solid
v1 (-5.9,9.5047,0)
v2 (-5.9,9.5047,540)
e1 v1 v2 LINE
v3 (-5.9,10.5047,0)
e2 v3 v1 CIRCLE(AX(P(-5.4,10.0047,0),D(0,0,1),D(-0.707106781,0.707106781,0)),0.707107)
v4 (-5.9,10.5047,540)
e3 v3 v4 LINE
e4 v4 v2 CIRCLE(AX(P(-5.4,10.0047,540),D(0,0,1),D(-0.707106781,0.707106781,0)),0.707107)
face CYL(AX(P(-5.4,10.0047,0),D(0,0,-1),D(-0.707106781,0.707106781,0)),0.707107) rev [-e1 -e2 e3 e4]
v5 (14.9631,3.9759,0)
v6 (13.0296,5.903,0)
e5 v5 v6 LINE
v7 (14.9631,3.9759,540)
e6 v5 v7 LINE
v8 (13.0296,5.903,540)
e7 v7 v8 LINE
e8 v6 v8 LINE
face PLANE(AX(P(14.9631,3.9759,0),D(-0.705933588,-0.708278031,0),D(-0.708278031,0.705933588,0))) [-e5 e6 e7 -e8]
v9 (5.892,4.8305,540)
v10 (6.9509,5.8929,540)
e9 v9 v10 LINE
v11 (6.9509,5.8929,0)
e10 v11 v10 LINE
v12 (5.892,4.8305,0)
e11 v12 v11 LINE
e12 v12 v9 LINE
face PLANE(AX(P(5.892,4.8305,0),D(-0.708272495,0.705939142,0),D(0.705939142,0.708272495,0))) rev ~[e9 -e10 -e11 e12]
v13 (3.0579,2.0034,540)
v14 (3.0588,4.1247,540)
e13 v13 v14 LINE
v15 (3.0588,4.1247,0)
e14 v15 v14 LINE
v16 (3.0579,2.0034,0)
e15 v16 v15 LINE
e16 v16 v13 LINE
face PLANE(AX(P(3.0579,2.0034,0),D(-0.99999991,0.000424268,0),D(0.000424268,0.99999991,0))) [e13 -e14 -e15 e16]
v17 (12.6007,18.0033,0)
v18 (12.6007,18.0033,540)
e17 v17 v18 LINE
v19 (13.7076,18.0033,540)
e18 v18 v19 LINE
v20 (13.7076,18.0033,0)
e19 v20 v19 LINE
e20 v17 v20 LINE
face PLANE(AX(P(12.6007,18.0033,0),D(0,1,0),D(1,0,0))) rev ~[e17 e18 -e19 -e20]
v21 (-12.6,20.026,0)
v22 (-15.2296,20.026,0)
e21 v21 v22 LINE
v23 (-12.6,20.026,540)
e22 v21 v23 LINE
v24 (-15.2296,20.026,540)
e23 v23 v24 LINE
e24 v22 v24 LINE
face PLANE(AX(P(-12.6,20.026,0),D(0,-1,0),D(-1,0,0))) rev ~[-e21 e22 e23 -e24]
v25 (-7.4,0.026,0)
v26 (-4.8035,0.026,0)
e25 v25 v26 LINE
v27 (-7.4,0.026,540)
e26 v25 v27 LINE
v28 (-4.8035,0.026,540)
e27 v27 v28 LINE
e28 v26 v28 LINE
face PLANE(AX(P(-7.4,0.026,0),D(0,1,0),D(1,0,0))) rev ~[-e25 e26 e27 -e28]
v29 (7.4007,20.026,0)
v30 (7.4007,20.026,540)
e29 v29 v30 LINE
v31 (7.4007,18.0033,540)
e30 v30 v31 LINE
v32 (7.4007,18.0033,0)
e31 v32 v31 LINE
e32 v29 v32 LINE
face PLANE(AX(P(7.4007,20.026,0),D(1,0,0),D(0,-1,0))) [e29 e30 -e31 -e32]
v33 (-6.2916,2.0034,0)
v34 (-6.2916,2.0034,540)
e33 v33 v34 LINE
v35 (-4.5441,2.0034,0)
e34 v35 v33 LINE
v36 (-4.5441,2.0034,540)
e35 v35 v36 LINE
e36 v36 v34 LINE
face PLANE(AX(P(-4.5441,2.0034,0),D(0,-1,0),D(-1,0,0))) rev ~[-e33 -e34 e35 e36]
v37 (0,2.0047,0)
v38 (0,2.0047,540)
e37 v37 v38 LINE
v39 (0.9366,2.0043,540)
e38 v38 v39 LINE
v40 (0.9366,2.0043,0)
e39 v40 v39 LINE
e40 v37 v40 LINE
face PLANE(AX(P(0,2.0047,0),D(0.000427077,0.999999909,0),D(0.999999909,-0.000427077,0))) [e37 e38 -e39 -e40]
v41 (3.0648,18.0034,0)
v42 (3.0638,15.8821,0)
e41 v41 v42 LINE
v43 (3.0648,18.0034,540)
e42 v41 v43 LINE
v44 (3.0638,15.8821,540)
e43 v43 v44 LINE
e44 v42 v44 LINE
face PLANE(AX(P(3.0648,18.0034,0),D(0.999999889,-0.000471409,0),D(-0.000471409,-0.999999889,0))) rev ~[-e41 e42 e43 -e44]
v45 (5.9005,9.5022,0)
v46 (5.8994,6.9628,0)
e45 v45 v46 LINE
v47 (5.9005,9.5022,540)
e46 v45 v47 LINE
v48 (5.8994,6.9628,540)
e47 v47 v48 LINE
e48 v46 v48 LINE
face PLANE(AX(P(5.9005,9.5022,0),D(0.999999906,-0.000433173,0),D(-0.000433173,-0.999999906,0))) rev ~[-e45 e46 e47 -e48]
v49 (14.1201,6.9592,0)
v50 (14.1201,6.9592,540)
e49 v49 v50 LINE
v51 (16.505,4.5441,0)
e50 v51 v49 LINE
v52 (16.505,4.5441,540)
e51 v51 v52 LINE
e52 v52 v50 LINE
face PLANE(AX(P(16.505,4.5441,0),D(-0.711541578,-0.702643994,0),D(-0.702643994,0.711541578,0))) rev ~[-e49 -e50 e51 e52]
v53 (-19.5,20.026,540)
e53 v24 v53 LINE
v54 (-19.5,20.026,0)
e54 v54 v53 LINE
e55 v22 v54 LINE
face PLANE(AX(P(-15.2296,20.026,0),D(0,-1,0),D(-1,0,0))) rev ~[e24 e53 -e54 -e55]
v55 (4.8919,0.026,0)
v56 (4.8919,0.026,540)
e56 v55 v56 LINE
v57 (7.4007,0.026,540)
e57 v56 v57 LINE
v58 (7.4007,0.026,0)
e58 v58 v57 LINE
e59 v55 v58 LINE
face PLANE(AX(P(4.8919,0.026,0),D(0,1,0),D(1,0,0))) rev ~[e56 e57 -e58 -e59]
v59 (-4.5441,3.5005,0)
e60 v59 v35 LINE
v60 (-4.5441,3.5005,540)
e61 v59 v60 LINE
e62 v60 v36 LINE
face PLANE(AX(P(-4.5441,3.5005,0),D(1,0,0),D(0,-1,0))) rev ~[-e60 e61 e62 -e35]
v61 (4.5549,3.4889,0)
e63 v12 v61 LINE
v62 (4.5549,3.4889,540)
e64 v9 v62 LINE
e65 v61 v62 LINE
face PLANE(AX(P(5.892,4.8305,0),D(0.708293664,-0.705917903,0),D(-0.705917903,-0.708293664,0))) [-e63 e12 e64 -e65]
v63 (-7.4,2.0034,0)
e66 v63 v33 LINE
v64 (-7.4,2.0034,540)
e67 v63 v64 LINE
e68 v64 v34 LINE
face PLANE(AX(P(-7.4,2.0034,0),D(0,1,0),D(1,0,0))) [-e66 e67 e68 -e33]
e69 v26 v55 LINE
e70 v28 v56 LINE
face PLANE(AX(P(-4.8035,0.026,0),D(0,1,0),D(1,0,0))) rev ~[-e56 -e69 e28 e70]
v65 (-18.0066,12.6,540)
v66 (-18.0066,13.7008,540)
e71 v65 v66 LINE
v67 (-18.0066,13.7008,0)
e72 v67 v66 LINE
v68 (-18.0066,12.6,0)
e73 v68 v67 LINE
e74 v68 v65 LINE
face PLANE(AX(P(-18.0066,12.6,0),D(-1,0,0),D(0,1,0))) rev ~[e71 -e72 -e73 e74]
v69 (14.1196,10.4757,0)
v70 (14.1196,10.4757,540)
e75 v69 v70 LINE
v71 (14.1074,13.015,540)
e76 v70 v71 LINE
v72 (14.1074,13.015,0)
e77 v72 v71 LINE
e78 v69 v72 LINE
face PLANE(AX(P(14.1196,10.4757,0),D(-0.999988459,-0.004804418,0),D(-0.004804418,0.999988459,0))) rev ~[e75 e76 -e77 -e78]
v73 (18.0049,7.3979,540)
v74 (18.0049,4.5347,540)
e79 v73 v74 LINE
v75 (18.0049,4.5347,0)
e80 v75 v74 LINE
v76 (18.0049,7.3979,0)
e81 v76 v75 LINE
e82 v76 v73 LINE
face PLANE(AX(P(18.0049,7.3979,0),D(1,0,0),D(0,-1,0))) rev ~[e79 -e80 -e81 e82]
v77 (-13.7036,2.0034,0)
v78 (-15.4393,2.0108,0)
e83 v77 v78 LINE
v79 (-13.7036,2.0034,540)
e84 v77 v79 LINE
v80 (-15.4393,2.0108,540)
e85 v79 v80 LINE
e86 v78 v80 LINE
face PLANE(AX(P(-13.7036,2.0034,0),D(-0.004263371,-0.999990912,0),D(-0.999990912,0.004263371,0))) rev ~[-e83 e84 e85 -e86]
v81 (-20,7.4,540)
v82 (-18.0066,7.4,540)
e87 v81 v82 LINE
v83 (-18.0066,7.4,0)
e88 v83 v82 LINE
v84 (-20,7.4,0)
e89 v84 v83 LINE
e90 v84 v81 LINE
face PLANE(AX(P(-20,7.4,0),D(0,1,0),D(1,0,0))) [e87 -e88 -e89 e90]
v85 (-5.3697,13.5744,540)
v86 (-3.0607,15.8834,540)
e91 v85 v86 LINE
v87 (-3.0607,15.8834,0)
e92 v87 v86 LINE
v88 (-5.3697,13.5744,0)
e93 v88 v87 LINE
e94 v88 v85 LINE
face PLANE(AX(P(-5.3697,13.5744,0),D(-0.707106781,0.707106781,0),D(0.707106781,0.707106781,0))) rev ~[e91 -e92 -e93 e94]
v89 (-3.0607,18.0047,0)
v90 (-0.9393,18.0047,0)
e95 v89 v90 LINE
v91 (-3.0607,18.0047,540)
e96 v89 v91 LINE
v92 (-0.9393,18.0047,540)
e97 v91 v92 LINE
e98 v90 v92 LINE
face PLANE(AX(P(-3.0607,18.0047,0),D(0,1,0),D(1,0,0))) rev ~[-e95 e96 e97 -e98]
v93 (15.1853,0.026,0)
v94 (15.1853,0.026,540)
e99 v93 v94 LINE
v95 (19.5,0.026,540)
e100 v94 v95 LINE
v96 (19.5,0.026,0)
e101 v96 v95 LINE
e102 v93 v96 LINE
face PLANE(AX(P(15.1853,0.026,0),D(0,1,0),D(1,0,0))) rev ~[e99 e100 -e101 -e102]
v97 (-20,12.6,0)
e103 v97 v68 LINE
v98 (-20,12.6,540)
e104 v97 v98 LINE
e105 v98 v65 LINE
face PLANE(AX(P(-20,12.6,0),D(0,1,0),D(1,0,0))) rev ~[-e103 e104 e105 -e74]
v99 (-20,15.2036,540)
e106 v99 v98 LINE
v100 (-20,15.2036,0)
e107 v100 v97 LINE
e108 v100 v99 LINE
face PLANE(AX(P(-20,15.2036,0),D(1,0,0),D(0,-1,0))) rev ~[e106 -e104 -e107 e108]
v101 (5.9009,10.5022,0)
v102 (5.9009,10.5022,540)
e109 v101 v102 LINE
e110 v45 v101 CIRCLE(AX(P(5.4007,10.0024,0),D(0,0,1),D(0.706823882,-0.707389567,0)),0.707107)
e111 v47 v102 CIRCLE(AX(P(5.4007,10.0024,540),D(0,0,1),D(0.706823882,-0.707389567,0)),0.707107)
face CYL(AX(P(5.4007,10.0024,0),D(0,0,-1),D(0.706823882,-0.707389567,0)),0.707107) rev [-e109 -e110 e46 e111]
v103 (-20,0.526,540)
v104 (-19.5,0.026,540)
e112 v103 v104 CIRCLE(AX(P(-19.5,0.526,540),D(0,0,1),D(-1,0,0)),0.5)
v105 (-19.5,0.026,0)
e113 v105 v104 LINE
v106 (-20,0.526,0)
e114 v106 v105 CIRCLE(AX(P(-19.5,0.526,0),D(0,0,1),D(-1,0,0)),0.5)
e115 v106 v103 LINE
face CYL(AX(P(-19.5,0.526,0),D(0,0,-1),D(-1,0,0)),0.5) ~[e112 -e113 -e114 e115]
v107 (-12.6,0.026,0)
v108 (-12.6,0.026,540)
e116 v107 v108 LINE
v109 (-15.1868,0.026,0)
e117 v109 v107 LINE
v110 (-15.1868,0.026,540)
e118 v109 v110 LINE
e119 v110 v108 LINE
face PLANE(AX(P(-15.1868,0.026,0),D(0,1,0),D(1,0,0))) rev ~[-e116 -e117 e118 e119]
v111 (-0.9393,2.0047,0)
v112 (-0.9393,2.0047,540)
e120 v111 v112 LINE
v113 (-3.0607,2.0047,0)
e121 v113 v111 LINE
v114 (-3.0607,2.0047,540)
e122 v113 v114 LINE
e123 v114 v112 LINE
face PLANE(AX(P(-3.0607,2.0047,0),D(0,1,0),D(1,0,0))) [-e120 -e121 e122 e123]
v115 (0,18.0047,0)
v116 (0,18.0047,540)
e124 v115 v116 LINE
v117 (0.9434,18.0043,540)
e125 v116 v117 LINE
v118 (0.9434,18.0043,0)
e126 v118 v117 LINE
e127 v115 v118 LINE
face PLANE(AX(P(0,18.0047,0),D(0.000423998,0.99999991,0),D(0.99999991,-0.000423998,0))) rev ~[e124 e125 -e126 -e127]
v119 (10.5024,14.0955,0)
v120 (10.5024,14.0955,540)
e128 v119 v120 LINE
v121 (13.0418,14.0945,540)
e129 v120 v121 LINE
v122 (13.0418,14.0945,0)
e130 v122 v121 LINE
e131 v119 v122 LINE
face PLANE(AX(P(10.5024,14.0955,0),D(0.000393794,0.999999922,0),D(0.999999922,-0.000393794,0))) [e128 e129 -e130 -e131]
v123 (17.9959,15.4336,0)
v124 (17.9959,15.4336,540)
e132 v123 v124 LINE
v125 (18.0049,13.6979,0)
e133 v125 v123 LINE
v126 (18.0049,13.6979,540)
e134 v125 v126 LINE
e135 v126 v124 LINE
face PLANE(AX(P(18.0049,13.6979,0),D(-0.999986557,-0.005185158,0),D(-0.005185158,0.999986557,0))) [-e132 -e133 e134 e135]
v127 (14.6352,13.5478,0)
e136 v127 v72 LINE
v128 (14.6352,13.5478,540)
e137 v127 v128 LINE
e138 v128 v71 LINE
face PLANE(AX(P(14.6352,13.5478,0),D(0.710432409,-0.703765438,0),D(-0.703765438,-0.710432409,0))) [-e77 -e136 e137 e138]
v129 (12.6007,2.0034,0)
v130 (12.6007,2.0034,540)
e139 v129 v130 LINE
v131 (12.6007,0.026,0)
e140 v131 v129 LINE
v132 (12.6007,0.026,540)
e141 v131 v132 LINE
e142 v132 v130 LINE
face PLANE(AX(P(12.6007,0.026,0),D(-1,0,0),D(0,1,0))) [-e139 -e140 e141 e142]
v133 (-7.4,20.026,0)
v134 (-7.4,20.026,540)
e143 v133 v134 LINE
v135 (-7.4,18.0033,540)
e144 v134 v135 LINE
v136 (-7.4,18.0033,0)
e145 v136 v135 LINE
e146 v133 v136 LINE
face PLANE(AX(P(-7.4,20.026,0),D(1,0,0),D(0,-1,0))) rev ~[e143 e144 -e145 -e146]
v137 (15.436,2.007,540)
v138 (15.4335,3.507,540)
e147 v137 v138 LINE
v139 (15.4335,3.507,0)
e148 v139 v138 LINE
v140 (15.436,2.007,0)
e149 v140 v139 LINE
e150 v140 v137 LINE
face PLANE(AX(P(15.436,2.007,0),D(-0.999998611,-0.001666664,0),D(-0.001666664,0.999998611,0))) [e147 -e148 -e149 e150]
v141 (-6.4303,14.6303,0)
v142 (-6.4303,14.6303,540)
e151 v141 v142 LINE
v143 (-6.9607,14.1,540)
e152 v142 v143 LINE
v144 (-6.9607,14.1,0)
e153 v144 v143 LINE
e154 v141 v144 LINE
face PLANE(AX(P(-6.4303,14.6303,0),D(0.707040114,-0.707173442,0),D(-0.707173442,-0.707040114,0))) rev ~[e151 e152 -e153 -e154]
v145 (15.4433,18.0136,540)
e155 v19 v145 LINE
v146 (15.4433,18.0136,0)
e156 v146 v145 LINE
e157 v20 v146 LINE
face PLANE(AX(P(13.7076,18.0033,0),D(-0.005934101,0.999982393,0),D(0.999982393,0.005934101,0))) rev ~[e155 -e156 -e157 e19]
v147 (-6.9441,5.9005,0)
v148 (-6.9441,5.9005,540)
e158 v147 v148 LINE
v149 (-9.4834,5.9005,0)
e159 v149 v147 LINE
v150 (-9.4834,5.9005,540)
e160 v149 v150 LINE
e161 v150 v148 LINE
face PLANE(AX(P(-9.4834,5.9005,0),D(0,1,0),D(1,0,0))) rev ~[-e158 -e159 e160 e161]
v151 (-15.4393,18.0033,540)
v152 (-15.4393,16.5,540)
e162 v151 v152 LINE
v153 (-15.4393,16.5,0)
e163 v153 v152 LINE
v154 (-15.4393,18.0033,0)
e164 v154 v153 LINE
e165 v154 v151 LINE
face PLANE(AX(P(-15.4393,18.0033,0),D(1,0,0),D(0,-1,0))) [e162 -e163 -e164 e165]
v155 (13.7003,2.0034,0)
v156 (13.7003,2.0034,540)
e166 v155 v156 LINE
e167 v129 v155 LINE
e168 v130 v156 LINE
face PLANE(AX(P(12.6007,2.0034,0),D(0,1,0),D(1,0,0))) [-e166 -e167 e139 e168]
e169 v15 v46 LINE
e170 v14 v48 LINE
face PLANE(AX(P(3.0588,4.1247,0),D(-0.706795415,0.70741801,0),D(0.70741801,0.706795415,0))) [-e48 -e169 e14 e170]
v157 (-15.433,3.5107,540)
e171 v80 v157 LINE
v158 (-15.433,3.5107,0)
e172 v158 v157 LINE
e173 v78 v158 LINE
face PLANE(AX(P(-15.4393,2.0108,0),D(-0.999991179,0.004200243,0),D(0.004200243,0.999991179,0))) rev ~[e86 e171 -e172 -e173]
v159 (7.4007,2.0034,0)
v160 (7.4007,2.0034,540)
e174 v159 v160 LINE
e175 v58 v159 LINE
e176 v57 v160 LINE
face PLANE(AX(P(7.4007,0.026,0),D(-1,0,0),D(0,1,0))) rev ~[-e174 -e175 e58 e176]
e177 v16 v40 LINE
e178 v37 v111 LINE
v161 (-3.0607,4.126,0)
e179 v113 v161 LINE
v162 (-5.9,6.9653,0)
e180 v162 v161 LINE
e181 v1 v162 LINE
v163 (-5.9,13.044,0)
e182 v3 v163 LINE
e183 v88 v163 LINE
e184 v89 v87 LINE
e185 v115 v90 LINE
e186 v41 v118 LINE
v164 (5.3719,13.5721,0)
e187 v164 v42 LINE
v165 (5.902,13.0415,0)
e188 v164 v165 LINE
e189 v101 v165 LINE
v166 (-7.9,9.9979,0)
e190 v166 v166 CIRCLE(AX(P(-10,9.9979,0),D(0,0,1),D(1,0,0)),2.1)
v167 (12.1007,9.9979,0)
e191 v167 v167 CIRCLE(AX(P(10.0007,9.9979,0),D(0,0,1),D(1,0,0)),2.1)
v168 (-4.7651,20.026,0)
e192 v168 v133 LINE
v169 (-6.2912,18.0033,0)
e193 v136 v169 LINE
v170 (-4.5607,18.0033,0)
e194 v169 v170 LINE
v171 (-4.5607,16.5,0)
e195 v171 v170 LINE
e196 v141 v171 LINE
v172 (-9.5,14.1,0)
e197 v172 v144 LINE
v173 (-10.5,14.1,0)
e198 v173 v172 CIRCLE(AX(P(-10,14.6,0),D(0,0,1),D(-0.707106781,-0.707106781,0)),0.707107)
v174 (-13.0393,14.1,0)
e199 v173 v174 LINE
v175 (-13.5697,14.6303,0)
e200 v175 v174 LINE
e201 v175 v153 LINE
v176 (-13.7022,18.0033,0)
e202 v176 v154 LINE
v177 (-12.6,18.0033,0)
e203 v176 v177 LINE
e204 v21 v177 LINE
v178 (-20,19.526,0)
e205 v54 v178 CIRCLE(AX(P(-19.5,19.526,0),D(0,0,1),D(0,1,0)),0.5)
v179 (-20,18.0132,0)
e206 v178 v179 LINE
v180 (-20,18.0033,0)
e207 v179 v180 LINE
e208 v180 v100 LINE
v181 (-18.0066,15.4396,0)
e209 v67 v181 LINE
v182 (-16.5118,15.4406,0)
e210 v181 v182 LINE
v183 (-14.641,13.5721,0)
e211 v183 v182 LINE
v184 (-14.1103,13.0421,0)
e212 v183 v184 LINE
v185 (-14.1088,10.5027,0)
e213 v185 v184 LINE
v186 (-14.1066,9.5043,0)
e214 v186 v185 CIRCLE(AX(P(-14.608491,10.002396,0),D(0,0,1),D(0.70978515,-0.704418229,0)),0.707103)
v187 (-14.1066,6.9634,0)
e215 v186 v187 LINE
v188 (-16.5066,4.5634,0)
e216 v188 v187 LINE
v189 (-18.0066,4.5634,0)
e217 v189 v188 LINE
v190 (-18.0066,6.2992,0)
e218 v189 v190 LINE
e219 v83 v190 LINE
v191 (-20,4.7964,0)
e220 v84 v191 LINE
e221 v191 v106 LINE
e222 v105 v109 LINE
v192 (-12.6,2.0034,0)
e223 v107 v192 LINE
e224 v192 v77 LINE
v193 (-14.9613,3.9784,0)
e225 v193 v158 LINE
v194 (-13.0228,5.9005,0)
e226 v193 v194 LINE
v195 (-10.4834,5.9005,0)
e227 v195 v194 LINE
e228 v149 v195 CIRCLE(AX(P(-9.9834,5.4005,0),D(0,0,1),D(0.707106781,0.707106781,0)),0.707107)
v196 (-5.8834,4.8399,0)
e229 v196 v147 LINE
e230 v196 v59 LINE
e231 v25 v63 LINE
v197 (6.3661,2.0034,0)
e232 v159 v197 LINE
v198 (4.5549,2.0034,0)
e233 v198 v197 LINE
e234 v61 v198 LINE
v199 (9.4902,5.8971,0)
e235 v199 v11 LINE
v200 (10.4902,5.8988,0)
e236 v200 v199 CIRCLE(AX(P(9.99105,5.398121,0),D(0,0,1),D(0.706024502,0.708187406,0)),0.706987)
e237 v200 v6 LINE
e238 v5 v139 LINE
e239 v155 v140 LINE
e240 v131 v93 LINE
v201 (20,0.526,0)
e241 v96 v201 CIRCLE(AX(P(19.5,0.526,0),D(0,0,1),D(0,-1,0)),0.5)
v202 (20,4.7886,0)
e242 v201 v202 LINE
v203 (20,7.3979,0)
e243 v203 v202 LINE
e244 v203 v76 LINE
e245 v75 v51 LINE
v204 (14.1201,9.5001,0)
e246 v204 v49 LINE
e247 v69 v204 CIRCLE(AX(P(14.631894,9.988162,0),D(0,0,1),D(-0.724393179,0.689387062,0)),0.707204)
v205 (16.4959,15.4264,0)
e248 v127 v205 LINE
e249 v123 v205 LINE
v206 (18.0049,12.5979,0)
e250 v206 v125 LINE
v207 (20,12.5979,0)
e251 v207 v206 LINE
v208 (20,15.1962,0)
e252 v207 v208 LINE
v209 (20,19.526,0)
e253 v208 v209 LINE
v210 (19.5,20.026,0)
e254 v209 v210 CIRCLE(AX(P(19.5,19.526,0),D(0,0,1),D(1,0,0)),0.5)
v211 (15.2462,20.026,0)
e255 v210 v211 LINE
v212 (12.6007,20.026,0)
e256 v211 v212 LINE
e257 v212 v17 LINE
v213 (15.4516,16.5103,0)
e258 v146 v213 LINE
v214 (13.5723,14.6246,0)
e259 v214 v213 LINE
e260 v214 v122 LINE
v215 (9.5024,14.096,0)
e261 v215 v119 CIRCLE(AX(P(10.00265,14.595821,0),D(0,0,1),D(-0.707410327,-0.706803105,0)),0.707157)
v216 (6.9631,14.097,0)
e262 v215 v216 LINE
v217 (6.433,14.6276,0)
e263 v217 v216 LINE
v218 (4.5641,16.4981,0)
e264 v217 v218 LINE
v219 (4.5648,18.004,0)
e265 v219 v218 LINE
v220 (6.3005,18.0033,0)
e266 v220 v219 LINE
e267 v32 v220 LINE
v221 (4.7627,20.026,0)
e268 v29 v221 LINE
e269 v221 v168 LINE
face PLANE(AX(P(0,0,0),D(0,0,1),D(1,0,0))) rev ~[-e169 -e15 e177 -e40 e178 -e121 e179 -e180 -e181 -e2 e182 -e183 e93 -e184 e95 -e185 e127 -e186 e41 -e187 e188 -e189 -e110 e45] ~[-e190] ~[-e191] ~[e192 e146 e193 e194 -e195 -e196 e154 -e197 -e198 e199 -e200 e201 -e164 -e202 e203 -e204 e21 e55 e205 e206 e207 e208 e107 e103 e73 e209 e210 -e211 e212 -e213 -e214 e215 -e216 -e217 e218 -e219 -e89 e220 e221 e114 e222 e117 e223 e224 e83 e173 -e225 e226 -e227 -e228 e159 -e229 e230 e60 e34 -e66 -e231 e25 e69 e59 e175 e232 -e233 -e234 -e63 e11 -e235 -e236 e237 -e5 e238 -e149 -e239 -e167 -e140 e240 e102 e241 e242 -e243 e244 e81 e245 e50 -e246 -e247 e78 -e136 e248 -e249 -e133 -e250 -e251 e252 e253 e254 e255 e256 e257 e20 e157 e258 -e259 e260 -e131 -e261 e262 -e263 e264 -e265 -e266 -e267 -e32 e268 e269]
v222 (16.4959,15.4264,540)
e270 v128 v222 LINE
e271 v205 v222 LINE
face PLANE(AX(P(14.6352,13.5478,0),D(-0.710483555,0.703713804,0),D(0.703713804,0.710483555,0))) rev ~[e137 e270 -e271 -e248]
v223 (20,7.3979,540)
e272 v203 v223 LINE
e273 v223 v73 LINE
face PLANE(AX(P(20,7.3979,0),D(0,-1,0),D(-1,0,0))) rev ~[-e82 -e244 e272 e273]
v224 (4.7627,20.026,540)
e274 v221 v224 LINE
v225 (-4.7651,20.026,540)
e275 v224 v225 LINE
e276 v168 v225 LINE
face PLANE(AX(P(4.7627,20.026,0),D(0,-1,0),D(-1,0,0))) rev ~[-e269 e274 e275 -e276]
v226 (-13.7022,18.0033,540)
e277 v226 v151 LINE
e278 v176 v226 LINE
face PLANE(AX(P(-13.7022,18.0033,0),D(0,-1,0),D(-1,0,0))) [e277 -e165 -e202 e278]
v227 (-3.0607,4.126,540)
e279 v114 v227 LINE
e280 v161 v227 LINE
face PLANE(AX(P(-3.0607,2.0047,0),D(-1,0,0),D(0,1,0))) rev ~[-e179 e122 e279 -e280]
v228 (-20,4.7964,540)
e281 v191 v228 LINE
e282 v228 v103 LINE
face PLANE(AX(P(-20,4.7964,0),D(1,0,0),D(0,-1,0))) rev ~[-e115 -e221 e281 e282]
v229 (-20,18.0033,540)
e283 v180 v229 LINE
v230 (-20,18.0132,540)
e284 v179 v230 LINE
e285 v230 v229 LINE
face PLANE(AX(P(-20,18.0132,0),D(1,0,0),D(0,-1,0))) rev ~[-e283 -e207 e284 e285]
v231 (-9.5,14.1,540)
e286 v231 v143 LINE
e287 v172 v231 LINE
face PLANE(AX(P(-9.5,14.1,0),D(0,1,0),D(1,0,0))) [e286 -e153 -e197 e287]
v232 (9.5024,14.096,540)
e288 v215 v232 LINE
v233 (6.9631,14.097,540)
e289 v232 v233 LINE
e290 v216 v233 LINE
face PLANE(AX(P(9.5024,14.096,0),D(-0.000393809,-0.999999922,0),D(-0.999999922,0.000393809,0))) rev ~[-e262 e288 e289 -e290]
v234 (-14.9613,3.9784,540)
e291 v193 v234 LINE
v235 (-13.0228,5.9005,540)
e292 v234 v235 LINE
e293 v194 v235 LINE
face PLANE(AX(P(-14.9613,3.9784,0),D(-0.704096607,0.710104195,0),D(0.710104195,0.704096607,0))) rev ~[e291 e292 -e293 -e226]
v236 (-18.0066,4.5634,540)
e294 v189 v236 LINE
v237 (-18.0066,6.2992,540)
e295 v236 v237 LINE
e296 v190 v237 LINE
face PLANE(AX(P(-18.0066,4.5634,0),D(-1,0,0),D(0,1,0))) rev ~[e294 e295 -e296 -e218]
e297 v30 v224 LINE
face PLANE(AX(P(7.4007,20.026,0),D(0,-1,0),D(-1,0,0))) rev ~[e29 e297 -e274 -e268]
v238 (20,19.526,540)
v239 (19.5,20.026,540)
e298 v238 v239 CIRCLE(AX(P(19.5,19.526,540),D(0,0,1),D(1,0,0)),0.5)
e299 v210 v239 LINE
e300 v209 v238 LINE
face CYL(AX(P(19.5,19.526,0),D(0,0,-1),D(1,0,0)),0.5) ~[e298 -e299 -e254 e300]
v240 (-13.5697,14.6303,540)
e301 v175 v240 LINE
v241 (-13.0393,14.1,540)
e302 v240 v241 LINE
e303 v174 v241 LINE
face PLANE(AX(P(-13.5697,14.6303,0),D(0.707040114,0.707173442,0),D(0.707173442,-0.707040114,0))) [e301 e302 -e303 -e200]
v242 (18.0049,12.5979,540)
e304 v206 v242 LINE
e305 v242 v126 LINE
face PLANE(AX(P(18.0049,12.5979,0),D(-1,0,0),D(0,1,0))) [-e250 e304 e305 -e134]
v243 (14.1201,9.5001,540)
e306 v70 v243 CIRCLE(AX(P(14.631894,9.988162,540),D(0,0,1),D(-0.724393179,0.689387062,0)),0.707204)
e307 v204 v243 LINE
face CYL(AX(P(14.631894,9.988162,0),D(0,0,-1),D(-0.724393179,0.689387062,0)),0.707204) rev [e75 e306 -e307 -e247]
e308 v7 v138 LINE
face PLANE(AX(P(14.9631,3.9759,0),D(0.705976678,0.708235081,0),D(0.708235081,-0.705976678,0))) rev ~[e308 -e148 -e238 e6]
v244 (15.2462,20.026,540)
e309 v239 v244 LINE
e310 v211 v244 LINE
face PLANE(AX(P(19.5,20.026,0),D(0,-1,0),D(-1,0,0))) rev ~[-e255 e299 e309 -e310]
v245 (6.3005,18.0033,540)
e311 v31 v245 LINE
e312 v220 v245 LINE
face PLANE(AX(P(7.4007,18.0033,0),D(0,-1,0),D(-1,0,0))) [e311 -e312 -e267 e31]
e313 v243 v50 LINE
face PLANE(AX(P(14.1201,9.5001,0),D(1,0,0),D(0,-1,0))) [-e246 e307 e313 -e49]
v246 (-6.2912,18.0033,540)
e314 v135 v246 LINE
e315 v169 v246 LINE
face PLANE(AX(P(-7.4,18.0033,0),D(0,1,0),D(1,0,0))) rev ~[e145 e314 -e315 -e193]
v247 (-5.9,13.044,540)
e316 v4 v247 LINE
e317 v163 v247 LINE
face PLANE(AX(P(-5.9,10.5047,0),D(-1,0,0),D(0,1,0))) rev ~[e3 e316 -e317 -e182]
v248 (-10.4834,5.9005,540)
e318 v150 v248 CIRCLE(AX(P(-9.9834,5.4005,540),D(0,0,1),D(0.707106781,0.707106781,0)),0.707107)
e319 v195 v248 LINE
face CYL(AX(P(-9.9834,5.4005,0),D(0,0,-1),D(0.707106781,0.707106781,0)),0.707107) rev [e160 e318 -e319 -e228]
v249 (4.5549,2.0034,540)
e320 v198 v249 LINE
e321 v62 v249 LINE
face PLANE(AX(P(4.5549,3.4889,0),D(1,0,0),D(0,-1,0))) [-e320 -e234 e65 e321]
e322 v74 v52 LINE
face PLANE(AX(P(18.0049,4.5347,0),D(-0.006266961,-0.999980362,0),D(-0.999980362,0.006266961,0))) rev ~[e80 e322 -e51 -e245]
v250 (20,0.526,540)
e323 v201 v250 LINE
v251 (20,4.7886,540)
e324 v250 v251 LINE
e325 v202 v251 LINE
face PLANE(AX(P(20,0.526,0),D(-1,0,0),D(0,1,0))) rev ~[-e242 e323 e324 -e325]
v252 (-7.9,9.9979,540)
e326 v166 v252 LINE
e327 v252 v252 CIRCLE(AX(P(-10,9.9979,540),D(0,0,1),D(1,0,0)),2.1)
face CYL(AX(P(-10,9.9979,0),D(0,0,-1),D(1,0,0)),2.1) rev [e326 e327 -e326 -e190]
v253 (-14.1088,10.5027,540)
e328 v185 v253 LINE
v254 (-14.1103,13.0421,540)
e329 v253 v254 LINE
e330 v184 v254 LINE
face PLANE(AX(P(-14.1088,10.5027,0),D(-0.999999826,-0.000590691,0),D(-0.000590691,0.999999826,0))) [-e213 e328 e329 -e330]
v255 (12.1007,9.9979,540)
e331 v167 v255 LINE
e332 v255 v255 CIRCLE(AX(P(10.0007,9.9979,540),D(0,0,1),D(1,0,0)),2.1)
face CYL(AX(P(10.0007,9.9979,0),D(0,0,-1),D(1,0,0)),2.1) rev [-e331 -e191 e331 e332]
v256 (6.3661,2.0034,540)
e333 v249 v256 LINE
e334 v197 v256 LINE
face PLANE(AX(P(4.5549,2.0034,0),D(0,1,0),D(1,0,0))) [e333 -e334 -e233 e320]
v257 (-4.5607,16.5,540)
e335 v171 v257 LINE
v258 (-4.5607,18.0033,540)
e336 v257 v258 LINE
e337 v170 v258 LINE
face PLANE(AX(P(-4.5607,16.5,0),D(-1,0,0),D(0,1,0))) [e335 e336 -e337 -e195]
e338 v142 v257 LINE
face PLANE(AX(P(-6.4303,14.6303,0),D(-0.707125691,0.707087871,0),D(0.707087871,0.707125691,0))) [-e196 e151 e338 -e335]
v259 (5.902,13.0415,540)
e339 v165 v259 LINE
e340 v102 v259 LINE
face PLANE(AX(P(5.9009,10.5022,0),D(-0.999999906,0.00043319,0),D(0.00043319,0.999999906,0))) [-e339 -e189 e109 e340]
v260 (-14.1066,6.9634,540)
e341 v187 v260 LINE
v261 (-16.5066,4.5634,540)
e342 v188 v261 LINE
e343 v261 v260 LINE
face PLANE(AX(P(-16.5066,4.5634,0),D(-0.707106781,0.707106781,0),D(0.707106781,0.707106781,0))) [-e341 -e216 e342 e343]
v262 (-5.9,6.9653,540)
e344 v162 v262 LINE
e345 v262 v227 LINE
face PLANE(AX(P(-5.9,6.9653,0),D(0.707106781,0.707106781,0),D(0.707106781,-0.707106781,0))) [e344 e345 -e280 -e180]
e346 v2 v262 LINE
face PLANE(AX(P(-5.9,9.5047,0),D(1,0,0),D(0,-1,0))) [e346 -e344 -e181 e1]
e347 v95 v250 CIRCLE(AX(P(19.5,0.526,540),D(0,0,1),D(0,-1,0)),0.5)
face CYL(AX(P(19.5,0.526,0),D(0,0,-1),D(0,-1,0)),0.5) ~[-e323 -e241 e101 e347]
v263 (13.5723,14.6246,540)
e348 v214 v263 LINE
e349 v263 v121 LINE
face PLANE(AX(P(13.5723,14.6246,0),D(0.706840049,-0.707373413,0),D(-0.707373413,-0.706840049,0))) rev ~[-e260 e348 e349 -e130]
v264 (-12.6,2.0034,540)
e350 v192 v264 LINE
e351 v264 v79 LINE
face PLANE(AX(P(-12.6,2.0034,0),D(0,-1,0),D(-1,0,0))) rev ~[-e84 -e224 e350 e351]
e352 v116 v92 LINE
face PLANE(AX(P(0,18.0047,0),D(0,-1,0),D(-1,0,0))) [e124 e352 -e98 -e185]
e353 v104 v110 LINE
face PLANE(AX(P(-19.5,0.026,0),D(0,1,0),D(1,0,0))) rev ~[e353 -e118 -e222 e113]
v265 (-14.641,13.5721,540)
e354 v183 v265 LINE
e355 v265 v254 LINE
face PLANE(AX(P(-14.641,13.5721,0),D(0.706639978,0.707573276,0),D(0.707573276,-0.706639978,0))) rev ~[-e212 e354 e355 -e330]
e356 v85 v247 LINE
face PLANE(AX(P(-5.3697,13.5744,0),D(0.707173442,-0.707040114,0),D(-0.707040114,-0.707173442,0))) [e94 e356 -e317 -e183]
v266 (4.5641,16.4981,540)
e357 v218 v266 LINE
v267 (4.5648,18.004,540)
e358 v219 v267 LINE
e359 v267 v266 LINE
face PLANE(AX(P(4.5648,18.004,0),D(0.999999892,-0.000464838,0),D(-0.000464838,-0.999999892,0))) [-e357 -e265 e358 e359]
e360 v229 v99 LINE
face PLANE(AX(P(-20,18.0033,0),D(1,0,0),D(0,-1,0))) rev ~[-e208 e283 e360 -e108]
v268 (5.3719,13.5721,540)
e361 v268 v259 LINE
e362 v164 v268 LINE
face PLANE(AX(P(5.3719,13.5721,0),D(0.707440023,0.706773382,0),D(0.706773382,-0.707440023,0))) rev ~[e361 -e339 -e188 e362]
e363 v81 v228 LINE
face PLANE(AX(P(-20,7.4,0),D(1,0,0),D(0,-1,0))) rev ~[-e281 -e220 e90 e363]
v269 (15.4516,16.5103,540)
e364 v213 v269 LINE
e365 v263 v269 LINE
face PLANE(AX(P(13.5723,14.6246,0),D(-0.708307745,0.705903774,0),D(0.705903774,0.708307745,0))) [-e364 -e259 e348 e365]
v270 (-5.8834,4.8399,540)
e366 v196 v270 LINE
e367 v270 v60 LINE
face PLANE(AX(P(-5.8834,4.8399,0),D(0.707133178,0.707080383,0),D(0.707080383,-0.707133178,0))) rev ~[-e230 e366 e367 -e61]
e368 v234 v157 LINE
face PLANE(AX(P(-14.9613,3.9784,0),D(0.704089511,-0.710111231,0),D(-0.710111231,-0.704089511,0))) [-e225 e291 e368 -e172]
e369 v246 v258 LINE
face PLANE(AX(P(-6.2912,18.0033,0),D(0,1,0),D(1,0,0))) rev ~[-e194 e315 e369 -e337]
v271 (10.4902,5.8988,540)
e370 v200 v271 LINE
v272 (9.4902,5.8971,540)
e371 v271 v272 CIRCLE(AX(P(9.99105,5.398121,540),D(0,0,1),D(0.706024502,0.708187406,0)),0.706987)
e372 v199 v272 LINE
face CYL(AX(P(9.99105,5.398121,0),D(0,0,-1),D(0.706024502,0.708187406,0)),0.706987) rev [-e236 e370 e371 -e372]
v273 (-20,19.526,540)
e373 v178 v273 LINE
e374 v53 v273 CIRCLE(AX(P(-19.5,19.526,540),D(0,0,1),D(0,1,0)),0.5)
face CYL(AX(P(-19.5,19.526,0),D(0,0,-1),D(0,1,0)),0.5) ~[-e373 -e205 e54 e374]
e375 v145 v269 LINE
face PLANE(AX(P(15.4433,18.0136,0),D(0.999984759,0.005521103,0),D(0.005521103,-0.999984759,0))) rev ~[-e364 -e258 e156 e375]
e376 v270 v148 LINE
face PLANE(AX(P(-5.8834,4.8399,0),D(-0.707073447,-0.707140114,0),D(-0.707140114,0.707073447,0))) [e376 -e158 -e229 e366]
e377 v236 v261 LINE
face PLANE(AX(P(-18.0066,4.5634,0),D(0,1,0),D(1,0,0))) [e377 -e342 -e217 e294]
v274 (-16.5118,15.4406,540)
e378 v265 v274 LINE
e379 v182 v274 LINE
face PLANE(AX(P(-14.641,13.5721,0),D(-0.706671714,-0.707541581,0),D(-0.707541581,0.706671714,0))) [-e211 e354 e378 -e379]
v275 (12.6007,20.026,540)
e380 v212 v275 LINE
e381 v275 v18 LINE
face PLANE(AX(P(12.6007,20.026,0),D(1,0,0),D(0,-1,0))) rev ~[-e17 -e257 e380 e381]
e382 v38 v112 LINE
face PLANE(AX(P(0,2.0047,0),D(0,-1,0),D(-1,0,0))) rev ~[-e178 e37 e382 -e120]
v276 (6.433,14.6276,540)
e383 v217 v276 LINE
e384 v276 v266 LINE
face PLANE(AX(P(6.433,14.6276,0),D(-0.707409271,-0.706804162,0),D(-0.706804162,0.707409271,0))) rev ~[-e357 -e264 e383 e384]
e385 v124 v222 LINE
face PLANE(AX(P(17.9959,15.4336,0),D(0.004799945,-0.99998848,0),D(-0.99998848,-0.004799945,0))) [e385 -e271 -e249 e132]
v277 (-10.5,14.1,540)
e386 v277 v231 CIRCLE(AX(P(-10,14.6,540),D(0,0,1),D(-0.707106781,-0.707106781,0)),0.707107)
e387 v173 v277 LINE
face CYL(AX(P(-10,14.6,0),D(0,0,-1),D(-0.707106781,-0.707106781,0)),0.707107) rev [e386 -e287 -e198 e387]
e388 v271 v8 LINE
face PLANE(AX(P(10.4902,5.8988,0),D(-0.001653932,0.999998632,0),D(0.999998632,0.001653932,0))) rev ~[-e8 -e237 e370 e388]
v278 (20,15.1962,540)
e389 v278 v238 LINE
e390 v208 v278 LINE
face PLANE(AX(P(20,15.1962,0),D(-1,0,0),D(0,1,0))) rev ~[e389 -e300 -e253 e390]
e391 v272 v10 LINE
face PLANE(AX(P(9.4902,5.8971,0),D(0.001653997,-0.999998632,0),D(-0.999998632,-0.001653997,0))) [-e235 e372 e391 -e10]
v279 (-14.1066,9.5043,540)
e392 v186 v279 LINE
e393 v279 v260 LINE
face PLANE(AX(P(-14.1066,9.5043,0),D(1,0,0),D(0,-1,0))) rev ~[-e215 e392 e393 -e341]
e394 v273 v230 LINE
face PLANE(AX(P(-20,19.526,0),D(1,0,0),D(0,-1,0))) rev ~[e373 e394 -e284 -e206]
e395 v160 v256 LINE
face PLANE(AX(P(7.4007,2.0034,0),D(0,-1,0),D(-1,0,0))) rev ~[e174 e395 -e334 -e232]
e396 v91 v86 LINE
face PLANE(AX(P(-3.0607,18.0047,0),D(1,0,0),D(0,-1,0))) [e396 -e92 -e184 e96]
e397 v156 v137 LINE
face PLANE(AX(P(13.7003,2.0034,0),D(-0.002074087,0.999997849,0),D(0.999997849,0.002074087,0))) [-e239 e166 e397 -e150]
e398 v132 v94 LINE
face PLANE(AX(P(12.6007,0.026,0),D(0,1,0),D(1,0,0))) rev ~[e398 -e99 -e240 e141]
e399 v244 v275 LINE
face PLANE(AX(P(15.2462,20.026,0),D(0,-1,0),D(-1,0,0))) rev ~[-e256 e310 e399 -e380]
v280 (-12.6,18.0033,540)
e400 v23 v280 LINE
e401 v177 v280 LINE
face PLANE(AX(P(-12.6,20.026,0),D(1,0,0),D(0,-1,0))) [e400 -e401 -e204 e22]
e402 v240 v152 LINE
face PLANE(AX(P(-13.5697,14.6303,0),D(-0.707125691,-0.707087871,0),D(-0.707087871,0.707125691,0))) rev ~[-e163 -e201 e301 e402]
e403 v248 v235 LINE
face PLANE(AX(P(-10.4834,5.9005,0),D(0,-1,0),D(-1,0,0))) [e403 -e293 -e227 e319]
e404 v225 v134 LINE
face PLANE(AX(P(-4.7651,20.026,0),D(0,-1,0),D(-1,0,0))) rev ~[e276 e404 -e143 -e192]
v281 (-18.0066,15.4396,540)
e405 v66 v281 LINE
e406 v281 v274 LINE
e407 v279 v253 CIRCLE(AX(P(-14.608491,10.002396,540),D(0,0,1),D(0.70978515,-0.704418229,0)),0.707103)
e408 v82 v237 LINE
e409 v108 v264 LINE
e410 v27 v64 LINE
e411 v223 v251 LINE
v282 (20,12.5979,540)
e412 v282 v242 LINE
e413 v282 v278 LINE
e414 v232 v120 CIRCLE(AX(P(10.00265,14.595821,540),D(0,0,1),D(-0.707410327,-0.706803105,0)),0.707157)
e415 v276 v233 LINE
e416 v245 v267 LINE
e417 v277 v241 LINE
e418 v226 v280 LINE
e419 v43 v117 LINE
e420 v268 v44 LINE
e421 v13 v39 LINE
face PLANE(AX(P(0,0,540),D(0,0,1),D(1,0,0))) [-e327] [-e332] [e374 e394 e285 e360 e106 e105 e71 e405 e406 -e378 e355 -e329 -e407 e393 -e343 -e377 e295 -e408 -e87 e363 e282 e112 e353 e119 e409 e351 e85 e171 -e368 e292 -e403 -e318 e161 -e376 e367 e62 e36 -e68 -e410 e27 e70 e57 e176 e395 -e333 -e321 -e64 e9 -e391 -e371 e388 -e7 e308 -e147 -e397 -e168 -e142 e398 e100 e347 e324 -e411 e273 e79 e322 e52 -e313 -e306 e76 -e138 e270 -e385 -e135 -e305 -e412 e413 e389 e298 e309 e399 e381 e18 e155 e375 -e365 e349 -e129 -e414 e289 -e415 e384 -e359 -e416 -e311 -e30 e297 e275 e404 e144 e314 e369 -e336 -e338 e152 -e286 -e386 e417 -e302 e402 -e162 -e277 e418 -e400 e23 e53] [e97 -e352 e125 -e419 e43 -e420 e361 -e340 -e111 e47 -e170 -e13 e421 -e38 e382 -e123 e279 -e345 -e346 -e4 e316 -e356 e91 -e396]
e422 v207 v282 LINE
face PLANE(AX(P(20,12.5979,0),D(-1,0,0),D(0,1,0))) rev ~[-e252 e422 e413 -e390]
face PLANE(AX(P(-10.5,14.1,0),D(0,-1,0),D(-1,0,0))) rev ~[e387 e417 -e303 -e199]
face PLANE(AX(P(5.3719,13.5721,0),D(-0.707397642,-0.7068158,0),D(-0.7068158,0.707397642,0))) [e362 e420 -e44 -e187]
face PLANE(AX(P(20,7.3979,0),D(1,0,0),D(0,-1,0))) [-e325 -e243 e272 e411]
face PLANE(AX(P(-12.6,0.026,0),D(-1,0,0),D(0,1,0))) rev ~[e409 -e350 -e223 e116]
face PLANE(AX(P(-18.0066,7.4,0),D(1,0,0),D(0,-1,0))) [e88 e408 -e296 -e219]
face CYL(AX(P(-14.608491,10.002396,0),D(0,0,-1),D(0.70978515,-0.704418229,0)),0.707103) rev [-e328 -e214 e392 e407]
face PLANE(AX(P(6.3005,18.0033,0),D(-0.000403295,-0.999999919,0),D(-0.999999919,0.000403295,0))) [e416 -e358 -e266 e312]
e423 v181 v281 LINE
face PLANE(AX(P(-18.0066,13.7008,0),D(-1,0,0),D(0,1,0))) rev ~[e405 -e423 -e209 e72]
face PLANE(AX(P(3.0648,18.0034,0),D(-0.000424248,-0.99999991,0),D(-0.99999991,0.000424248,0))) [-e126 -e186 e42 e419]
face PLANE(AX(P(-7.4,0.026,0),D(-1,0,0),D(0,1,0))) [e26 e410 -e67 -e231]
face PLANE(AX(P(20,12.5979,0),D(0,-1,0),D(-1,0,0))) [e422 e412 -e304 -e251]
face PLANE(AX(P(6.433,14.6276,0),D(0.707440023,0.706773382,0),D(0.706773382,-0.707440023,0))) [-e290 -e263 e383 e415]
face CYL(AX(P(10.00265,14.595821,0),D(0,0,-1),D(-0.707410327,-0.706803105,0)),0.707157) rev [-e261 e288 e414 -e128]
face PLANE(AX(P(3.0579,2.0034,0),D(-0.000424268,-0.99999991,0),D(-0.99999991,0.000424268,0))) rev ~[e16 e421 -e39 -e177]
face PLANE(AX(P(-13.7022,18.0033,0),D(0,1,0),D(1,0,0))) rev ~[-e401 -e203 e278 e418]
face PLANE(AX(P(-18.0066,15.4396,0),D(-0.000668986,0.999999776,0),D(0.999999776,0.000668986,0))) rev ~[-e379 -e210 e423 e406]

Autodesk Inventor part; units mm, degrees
ref_plane "YZ Plane" through (0, 0, 0) normal (1, 0, 0) x (0, 1, 0)
ref_plane "XZ Plane" through (0, 0, 0) normal (0, 1, 0) x (-1, 0, 0)
ref_plane "XY Plane" through (0, 0, 0) normal (0, 0, 1) x (1, 0, 0)
sketch "Szkic1" plane through (0, 0, 0) normal (0, 0, 1) x (1, 0, 0)
  circle A0 centre (-10, 9.9979) radius 2.1
  line L0 (-14.9613, 3.9784) -> (-13.0228, 5.9005)
  line L1 (-18.0066, 4.5634) -> (-18.0066, 6.2992)
  line L2 (-18.0066, 13.7008) -> (-18.0066, 15.4396)
  line L3 (-14.9613, 3.9784) -> (-15.433, 3.5107)
  line L4 (-13.7036, 2.0034) -> (-15.4393, 2.0108)
  line L5 (-13.5697, 14.6303) -> (-15.4393, 16.5)
  line L6 (-13.5697, 14.6303) -> (-13.0393, 14.1)
  line L7 (-14.641, 13.5721) -> (-14.1103, 13.0421)
  line L8 (-13.7022, 18.0033) -> (-15.4393, 18.0033)
  line L9 (-14.641, 13.5721) -> (-16.5118, 15.4406)
  line L10 (-15.4393, 18.0033) -> (-15.4393, 16.5)
  line L11 (-18.0066, 15.4396) -> (-16.5118, 15.4406)
  line L12 (-18.0066, 4.5634) -> (-16.5066, 4.5634)
  line L13 (-15.4393, 2.0108) -> (-15.433, 3.5107)
  line L14 (-6.4303, 14.6303) -> (-6.9607, 14.1)
  line L15 (-5.3697, 13.5744) -> (-5.9, 13.044)
  line L16 (-5.8834, 4.8399) -> (-6.9441, 5.9005)
  line L17 (0, 2.0047) -> (-0.9393, 2.0047)
  line L18 (0, 18.0047) -> (-0.9393, 18.0047)
  line L19 (-6.4303, 14.6303) -> (-4.5607, 16.5)
  line L20 (-3.0607, 18.0047) -> (-3.0607, 15.8834)
  line L21 (-3.0607, 18.0047) -> (-0.9393, 18.0047)
  line L22 (-5.3697, 13.5744) -> (-3.0607, 15.8834)
  line L23 (-3.0607, 2.0047) -> (-3.0607, 4.126)
  line L24 (-5.8834, 4.8399) -> (-4.5441, 3.5005)
  line L25 (-3.0607, 2.0047) -> (-0.9393, 2.0047)
  line L26 (-14.1088, 10.5027) -> (-14.1103, 13.0421)
  line L27 (-10.5, 14.1) -> (-13.0393, 14.1)
  line L28 (-9.5, 14.1) -> (-6.9607, 14.1)
  line L29 (-5.9, 10.5047) -> (-5.9, 13.044)
  line L30 (-5.9, 9.5047) -> (-5.9, 6.9653)
  line L31 (-9.4834, 5.9005) -> (-6.9441, 5.9005)
  line L32 (-10.4834, 5.9005) -> (-13.0228, 5.9005)
  arc A1 (-10.5, 14.1) -> (-9.5, 14.1) centre (-10, 14.6) ccw
  arc A2 (-14.1066, 9.5043) -> (-14.1088, 10.5027) centre (-14.6085, 10.0024) ccw
  arc A3 (-9.4834, 5.9005) -> (-10.4834, 5.9005) centre (-9.9834, 5.4005) ccw
  arc A4 (-5.9, 10.5047) -> (-5.9, 9.5047) centre (-5.4, 10.0047) ccw
  line L33 (10.4902, 5.8988) -> (13.0296, 5.903)
  arc A5 (5.9005, 9.5022) -> (5.9009, 10.5022) centre (5.4007, 10.0024) ccw
  circle A6 centre (10.0007, 9.9979) radius 2.1
  line L34 (5.9009, 10.5022) -> (5.902, 13.0415)
  line L35 (9.5024, 14.096) -> (6.9631, 14.097)
  line L36 (6.433, 14.6276) -> (6.9631, 14.097)
  arc A7 (14.1196, 10.4757) -> (14.1201, 9.5001) centre (14.6318, 9.9882) ccw
  arc A8 (9.5024, 14.096) -> (10.5024, 14.0955) centre (10.0026, 14.5957) ccw
  line L37 (14.1196, 10.4757) -> (14.1074, 13.015)
  line L38 (10.5024, 14.0955) -> (13.0418, 14.0945)
  line L39 (14.6352, 13.5478) -> (14.1074, 13.015)
  line L40 (13.5723, 14.6246) -> (13.0418, 14.0945)
  line L41 (14.9631, 3.9759) -> (13.0296, 5.903)
  line L42 (15.4994, 6.8934) -> (15.1709, 6.8935) construction
  line L43 (14.9631, 3.9759) -> (15.4335, 3.507)
  line L44 (13.7003, 2.0034) -> (15.436, 2.007)
  line L45 (15.436, 2.007) -> (15.4335, 3.507)
  line L46 (18.0049, 4.5347) -> (16.505, 4.5441)
  arc A9 (10.4902, 5.8988) -> (9.4902, 5.8971) centre (9.991, 5.398) ccw
  line L47 (9.4902, 5.8971) -> (6.9509, 5.8929)
  line L48 (5.3719, 13.5721) -> (5.902, 13.0415)
  line L49 (5.3719, 13.5721) -> (3.0638, 15.8821)
  line L50 (6.433, 14.6276) -> (4.5641, 16.4981)
  line L51 (0, 18.0047) -> (0.9434, 18.0043)
  line L52 (3.0648, 18.0034) -> (0.9434, 18.0043)
  line L53 (3.0648, 18.0034) -> (3.0638, 15.8821)
  line L54 (4.5648, 18.004) -> (4.5641, 16.4981)
  line L55 (5.9005, 9.5022) -> (5.8994, 6.9628)
  line L56 (5.892, 4.8305) -> (6.9509, 5.8929)
  line L57 (5.892, 4.8305) -> (4.5549, 3.4889)
  line L58 (18.0049, 13.6979) -> (17.9959, 15.4336)
  line L59 (13.5723, 14.6246) -> (15.4516, 16.5103)
  line L60 (13.7076, 18.0033) -> (15.4433, 18.0136)
  line L61 (14.6352, 13.5478) -> (16.4959, 15.4264)
  line L62 (15.4433, 18.0136) -> (15.4516, 16.5103)
  line L63 (17.9959, 15.4336) -> (16.4959, 15.4264)
  line L64 (3.0579, 2.0034) -> (3.0588, 4.1247)
  line L65 (3.0579, 2.0034) -> (0.9366, 2.0043)
  line L66 (0, 2.0047) -> (0.9366, 2.0043)
  line L67 (-4.5607, 16.5) -> (-4.5607, 18.0033)
  line L68 (-6.2912, 18.0033) -> (-4.5607, 18.0033)
  line L69 (6.3005, 18.0033) -> (4.5648, 18.004)
  line L70 (-14.1066, 9.5043) -> (-14.1066, 6.9634)
  line L71 (14.1201, 9.5001) -> (14.1201, 6.9592)
  line L72 (3.0588, 4.1247) -> (5.8994, 6.9628)
  line L73 (-5.9, 6.9653) -> (-3.0607, 4.126)
  line L74 (-4.5441, 2.0034) -> (-6.2916, 2.0034)
  line L75 (-4.5441, 3.5005) -> (-4.5441, 2.0034)
  line L76 (4.5549, 2.0034) -> (6.3661, 2.0034)
  line L77 (6.5461, 1.5766) -> (6.5038, 1.5343)
  line L78 (4.5549, 3.4889) -> (4.5549, 2.0034)
  line L79 (-20, 18.0132) -> (-20, 18.0033)
  line L80 (-15.2296, 20.026) -> (-19.5, 20.026)
  line L81 (19.5, 20.026) -> (15.2462, 20.026)
  line L82 (4.7627, 20.026) -> (-4.7651, 20.026)
  line L83 (20, 0.526) -> (20, 4.7886)
  line L84 (20, 15.1962) -> (20, 19.526)
  line L85 (15.1853, 0.026) -> (19.5, 0.026)
  line L86 (-19.5, 0.026) -> (-15.1868, 0.026)
  line L87 (-4.8035, 0.026) -> (4.8919, 0.026)
  line L88 (-20, 19.526) -> (-20, 15.2036)
  line L89 (-20, 4.7964) -> (-20, 0.526)
  line L90 (-16.5066, 4.5634) -> (-14.1066, 6.9634)
  line L91 (16.505, 4.5441) -> (14.1201, 6.9592)
  line L92 (-8.9462, 9.9979) -> (-8.9325, 9.9979)
  arc A10 (-19.5, 20.026) -> (-20, 19.526) centre (-19.5, 19.526) ccw
  arc A11 (20, 19.526) -> (19.5, 20.026) centre (19.5, 19.526) ccw
  arc A12 (19.5, 0.026) -> (20, 0.526) centre (19.5, 0.526) ccw
  arc A13 (-20, 0.526) -> (-19.5, 0.026) centre (-19.5, 0.526) ccw
  line L93 (-12.6, 20.026) -> (-12.6, 18.0033)
  line L94 (-7.4, 20.026) -> (-7.4, 18.0033)
  line L95 (-4.7651, 20.026) -> (-7.4, 20.026)
  line L96 (-12.6, 20.026) -> (-15.2296, 20.026)
  line L97 (-13.7022, 18.0033) -> (-12.6, 18.0033)
  line L98 (-7.4, 18.0033) -> (-6.2912, 18.0033)
  line L99 (-20, 12.6) -> (-18.0066, 12.6)
  line L100 (-18.0066, 12.6) -> (-18.0066, 13.7008)
  line L101 (-20, 7.4) -> (-18.0066, 7.4)
  line L102 (-18.0066, 7.4) -> (-18.0066, 6.2992)
  line L103 (-20, 15.2036) -> (-20, 12.6)
  line L104 (-20, 7.4) -> (-20, 4.7964)
  line L105 (-7.4, 0.026) -> (-7.4, 2.0034)
  line L106 (-7.4, 2.0034) -> (-6.2916, 2.0034)
  line L107 (-12.6, 0.026) -> (-12.6, 2.0034)
  line L108 (-12.6, 2.0034) -> (-13.7036, 2.0034)
  line L109 (-15.1868, 0.026) -> (-12.6, 0.026)
  line L110 (-7.4, 0.026) -> (-4.8035, 0.026)
  line L111 (7.4007, 20.026) -> (4.7627, 20.026)
  line L112 (15.2462, 20.026) -> (12.6007, 20.026)
  line L113 (12.6007, 20.026) -> (12.6007, 18.0033)
  line L114 (12.6007, 18.0033) -> (13.7076, 18.0033)
  line L115 (7.4007, 20.026) -> (7.4007, 18.0033)
  line L116 (7.4007, 18.0033) -> (6.3005, 18.0033)
  line L117 (20, 7.3979) -> (20, 4.7886)
  line L118 (20, 12.5979) -> (20, 15.1962)
  line L119 (20, 12.5979) -> (18.0049, 12.5979)
  line L120 (18.0049, 12.5979) -> (18.0049, 13.6979)
  line L121 (20, 7.4) -> (20, 7.3979)
  line L122 (20, 7.3979) -> (18.0049, 7.3979)
  line L123 (18.0049, 7.3979) -> (18.0049, 4.5347)
  line L124 (10.0007, 9.9979) -> (19.9726, 9.9979) construction
  line L125 (12.6007, 0.026) -> (15.1853, 0.026)
  line L126 (4.8919, 0.026) -> (7.4007, 0.026)
  line L127 (12.6007, 0.026) -> (12.6007, 2.0034)
  line L128 (12.6007, 2.0034) -> (13.7003, 2.0034)
  line L129 (7.4007, 0.026) -> (7.4007, 2.0034)
  line L130 (7.4007, 2.0034) -> (6.3661, 2.0034)
extrude "Wyciągnięcie proste4" add sketch "Szkic1" along normal blind 540
properties part number "Profil dolny krótki"
